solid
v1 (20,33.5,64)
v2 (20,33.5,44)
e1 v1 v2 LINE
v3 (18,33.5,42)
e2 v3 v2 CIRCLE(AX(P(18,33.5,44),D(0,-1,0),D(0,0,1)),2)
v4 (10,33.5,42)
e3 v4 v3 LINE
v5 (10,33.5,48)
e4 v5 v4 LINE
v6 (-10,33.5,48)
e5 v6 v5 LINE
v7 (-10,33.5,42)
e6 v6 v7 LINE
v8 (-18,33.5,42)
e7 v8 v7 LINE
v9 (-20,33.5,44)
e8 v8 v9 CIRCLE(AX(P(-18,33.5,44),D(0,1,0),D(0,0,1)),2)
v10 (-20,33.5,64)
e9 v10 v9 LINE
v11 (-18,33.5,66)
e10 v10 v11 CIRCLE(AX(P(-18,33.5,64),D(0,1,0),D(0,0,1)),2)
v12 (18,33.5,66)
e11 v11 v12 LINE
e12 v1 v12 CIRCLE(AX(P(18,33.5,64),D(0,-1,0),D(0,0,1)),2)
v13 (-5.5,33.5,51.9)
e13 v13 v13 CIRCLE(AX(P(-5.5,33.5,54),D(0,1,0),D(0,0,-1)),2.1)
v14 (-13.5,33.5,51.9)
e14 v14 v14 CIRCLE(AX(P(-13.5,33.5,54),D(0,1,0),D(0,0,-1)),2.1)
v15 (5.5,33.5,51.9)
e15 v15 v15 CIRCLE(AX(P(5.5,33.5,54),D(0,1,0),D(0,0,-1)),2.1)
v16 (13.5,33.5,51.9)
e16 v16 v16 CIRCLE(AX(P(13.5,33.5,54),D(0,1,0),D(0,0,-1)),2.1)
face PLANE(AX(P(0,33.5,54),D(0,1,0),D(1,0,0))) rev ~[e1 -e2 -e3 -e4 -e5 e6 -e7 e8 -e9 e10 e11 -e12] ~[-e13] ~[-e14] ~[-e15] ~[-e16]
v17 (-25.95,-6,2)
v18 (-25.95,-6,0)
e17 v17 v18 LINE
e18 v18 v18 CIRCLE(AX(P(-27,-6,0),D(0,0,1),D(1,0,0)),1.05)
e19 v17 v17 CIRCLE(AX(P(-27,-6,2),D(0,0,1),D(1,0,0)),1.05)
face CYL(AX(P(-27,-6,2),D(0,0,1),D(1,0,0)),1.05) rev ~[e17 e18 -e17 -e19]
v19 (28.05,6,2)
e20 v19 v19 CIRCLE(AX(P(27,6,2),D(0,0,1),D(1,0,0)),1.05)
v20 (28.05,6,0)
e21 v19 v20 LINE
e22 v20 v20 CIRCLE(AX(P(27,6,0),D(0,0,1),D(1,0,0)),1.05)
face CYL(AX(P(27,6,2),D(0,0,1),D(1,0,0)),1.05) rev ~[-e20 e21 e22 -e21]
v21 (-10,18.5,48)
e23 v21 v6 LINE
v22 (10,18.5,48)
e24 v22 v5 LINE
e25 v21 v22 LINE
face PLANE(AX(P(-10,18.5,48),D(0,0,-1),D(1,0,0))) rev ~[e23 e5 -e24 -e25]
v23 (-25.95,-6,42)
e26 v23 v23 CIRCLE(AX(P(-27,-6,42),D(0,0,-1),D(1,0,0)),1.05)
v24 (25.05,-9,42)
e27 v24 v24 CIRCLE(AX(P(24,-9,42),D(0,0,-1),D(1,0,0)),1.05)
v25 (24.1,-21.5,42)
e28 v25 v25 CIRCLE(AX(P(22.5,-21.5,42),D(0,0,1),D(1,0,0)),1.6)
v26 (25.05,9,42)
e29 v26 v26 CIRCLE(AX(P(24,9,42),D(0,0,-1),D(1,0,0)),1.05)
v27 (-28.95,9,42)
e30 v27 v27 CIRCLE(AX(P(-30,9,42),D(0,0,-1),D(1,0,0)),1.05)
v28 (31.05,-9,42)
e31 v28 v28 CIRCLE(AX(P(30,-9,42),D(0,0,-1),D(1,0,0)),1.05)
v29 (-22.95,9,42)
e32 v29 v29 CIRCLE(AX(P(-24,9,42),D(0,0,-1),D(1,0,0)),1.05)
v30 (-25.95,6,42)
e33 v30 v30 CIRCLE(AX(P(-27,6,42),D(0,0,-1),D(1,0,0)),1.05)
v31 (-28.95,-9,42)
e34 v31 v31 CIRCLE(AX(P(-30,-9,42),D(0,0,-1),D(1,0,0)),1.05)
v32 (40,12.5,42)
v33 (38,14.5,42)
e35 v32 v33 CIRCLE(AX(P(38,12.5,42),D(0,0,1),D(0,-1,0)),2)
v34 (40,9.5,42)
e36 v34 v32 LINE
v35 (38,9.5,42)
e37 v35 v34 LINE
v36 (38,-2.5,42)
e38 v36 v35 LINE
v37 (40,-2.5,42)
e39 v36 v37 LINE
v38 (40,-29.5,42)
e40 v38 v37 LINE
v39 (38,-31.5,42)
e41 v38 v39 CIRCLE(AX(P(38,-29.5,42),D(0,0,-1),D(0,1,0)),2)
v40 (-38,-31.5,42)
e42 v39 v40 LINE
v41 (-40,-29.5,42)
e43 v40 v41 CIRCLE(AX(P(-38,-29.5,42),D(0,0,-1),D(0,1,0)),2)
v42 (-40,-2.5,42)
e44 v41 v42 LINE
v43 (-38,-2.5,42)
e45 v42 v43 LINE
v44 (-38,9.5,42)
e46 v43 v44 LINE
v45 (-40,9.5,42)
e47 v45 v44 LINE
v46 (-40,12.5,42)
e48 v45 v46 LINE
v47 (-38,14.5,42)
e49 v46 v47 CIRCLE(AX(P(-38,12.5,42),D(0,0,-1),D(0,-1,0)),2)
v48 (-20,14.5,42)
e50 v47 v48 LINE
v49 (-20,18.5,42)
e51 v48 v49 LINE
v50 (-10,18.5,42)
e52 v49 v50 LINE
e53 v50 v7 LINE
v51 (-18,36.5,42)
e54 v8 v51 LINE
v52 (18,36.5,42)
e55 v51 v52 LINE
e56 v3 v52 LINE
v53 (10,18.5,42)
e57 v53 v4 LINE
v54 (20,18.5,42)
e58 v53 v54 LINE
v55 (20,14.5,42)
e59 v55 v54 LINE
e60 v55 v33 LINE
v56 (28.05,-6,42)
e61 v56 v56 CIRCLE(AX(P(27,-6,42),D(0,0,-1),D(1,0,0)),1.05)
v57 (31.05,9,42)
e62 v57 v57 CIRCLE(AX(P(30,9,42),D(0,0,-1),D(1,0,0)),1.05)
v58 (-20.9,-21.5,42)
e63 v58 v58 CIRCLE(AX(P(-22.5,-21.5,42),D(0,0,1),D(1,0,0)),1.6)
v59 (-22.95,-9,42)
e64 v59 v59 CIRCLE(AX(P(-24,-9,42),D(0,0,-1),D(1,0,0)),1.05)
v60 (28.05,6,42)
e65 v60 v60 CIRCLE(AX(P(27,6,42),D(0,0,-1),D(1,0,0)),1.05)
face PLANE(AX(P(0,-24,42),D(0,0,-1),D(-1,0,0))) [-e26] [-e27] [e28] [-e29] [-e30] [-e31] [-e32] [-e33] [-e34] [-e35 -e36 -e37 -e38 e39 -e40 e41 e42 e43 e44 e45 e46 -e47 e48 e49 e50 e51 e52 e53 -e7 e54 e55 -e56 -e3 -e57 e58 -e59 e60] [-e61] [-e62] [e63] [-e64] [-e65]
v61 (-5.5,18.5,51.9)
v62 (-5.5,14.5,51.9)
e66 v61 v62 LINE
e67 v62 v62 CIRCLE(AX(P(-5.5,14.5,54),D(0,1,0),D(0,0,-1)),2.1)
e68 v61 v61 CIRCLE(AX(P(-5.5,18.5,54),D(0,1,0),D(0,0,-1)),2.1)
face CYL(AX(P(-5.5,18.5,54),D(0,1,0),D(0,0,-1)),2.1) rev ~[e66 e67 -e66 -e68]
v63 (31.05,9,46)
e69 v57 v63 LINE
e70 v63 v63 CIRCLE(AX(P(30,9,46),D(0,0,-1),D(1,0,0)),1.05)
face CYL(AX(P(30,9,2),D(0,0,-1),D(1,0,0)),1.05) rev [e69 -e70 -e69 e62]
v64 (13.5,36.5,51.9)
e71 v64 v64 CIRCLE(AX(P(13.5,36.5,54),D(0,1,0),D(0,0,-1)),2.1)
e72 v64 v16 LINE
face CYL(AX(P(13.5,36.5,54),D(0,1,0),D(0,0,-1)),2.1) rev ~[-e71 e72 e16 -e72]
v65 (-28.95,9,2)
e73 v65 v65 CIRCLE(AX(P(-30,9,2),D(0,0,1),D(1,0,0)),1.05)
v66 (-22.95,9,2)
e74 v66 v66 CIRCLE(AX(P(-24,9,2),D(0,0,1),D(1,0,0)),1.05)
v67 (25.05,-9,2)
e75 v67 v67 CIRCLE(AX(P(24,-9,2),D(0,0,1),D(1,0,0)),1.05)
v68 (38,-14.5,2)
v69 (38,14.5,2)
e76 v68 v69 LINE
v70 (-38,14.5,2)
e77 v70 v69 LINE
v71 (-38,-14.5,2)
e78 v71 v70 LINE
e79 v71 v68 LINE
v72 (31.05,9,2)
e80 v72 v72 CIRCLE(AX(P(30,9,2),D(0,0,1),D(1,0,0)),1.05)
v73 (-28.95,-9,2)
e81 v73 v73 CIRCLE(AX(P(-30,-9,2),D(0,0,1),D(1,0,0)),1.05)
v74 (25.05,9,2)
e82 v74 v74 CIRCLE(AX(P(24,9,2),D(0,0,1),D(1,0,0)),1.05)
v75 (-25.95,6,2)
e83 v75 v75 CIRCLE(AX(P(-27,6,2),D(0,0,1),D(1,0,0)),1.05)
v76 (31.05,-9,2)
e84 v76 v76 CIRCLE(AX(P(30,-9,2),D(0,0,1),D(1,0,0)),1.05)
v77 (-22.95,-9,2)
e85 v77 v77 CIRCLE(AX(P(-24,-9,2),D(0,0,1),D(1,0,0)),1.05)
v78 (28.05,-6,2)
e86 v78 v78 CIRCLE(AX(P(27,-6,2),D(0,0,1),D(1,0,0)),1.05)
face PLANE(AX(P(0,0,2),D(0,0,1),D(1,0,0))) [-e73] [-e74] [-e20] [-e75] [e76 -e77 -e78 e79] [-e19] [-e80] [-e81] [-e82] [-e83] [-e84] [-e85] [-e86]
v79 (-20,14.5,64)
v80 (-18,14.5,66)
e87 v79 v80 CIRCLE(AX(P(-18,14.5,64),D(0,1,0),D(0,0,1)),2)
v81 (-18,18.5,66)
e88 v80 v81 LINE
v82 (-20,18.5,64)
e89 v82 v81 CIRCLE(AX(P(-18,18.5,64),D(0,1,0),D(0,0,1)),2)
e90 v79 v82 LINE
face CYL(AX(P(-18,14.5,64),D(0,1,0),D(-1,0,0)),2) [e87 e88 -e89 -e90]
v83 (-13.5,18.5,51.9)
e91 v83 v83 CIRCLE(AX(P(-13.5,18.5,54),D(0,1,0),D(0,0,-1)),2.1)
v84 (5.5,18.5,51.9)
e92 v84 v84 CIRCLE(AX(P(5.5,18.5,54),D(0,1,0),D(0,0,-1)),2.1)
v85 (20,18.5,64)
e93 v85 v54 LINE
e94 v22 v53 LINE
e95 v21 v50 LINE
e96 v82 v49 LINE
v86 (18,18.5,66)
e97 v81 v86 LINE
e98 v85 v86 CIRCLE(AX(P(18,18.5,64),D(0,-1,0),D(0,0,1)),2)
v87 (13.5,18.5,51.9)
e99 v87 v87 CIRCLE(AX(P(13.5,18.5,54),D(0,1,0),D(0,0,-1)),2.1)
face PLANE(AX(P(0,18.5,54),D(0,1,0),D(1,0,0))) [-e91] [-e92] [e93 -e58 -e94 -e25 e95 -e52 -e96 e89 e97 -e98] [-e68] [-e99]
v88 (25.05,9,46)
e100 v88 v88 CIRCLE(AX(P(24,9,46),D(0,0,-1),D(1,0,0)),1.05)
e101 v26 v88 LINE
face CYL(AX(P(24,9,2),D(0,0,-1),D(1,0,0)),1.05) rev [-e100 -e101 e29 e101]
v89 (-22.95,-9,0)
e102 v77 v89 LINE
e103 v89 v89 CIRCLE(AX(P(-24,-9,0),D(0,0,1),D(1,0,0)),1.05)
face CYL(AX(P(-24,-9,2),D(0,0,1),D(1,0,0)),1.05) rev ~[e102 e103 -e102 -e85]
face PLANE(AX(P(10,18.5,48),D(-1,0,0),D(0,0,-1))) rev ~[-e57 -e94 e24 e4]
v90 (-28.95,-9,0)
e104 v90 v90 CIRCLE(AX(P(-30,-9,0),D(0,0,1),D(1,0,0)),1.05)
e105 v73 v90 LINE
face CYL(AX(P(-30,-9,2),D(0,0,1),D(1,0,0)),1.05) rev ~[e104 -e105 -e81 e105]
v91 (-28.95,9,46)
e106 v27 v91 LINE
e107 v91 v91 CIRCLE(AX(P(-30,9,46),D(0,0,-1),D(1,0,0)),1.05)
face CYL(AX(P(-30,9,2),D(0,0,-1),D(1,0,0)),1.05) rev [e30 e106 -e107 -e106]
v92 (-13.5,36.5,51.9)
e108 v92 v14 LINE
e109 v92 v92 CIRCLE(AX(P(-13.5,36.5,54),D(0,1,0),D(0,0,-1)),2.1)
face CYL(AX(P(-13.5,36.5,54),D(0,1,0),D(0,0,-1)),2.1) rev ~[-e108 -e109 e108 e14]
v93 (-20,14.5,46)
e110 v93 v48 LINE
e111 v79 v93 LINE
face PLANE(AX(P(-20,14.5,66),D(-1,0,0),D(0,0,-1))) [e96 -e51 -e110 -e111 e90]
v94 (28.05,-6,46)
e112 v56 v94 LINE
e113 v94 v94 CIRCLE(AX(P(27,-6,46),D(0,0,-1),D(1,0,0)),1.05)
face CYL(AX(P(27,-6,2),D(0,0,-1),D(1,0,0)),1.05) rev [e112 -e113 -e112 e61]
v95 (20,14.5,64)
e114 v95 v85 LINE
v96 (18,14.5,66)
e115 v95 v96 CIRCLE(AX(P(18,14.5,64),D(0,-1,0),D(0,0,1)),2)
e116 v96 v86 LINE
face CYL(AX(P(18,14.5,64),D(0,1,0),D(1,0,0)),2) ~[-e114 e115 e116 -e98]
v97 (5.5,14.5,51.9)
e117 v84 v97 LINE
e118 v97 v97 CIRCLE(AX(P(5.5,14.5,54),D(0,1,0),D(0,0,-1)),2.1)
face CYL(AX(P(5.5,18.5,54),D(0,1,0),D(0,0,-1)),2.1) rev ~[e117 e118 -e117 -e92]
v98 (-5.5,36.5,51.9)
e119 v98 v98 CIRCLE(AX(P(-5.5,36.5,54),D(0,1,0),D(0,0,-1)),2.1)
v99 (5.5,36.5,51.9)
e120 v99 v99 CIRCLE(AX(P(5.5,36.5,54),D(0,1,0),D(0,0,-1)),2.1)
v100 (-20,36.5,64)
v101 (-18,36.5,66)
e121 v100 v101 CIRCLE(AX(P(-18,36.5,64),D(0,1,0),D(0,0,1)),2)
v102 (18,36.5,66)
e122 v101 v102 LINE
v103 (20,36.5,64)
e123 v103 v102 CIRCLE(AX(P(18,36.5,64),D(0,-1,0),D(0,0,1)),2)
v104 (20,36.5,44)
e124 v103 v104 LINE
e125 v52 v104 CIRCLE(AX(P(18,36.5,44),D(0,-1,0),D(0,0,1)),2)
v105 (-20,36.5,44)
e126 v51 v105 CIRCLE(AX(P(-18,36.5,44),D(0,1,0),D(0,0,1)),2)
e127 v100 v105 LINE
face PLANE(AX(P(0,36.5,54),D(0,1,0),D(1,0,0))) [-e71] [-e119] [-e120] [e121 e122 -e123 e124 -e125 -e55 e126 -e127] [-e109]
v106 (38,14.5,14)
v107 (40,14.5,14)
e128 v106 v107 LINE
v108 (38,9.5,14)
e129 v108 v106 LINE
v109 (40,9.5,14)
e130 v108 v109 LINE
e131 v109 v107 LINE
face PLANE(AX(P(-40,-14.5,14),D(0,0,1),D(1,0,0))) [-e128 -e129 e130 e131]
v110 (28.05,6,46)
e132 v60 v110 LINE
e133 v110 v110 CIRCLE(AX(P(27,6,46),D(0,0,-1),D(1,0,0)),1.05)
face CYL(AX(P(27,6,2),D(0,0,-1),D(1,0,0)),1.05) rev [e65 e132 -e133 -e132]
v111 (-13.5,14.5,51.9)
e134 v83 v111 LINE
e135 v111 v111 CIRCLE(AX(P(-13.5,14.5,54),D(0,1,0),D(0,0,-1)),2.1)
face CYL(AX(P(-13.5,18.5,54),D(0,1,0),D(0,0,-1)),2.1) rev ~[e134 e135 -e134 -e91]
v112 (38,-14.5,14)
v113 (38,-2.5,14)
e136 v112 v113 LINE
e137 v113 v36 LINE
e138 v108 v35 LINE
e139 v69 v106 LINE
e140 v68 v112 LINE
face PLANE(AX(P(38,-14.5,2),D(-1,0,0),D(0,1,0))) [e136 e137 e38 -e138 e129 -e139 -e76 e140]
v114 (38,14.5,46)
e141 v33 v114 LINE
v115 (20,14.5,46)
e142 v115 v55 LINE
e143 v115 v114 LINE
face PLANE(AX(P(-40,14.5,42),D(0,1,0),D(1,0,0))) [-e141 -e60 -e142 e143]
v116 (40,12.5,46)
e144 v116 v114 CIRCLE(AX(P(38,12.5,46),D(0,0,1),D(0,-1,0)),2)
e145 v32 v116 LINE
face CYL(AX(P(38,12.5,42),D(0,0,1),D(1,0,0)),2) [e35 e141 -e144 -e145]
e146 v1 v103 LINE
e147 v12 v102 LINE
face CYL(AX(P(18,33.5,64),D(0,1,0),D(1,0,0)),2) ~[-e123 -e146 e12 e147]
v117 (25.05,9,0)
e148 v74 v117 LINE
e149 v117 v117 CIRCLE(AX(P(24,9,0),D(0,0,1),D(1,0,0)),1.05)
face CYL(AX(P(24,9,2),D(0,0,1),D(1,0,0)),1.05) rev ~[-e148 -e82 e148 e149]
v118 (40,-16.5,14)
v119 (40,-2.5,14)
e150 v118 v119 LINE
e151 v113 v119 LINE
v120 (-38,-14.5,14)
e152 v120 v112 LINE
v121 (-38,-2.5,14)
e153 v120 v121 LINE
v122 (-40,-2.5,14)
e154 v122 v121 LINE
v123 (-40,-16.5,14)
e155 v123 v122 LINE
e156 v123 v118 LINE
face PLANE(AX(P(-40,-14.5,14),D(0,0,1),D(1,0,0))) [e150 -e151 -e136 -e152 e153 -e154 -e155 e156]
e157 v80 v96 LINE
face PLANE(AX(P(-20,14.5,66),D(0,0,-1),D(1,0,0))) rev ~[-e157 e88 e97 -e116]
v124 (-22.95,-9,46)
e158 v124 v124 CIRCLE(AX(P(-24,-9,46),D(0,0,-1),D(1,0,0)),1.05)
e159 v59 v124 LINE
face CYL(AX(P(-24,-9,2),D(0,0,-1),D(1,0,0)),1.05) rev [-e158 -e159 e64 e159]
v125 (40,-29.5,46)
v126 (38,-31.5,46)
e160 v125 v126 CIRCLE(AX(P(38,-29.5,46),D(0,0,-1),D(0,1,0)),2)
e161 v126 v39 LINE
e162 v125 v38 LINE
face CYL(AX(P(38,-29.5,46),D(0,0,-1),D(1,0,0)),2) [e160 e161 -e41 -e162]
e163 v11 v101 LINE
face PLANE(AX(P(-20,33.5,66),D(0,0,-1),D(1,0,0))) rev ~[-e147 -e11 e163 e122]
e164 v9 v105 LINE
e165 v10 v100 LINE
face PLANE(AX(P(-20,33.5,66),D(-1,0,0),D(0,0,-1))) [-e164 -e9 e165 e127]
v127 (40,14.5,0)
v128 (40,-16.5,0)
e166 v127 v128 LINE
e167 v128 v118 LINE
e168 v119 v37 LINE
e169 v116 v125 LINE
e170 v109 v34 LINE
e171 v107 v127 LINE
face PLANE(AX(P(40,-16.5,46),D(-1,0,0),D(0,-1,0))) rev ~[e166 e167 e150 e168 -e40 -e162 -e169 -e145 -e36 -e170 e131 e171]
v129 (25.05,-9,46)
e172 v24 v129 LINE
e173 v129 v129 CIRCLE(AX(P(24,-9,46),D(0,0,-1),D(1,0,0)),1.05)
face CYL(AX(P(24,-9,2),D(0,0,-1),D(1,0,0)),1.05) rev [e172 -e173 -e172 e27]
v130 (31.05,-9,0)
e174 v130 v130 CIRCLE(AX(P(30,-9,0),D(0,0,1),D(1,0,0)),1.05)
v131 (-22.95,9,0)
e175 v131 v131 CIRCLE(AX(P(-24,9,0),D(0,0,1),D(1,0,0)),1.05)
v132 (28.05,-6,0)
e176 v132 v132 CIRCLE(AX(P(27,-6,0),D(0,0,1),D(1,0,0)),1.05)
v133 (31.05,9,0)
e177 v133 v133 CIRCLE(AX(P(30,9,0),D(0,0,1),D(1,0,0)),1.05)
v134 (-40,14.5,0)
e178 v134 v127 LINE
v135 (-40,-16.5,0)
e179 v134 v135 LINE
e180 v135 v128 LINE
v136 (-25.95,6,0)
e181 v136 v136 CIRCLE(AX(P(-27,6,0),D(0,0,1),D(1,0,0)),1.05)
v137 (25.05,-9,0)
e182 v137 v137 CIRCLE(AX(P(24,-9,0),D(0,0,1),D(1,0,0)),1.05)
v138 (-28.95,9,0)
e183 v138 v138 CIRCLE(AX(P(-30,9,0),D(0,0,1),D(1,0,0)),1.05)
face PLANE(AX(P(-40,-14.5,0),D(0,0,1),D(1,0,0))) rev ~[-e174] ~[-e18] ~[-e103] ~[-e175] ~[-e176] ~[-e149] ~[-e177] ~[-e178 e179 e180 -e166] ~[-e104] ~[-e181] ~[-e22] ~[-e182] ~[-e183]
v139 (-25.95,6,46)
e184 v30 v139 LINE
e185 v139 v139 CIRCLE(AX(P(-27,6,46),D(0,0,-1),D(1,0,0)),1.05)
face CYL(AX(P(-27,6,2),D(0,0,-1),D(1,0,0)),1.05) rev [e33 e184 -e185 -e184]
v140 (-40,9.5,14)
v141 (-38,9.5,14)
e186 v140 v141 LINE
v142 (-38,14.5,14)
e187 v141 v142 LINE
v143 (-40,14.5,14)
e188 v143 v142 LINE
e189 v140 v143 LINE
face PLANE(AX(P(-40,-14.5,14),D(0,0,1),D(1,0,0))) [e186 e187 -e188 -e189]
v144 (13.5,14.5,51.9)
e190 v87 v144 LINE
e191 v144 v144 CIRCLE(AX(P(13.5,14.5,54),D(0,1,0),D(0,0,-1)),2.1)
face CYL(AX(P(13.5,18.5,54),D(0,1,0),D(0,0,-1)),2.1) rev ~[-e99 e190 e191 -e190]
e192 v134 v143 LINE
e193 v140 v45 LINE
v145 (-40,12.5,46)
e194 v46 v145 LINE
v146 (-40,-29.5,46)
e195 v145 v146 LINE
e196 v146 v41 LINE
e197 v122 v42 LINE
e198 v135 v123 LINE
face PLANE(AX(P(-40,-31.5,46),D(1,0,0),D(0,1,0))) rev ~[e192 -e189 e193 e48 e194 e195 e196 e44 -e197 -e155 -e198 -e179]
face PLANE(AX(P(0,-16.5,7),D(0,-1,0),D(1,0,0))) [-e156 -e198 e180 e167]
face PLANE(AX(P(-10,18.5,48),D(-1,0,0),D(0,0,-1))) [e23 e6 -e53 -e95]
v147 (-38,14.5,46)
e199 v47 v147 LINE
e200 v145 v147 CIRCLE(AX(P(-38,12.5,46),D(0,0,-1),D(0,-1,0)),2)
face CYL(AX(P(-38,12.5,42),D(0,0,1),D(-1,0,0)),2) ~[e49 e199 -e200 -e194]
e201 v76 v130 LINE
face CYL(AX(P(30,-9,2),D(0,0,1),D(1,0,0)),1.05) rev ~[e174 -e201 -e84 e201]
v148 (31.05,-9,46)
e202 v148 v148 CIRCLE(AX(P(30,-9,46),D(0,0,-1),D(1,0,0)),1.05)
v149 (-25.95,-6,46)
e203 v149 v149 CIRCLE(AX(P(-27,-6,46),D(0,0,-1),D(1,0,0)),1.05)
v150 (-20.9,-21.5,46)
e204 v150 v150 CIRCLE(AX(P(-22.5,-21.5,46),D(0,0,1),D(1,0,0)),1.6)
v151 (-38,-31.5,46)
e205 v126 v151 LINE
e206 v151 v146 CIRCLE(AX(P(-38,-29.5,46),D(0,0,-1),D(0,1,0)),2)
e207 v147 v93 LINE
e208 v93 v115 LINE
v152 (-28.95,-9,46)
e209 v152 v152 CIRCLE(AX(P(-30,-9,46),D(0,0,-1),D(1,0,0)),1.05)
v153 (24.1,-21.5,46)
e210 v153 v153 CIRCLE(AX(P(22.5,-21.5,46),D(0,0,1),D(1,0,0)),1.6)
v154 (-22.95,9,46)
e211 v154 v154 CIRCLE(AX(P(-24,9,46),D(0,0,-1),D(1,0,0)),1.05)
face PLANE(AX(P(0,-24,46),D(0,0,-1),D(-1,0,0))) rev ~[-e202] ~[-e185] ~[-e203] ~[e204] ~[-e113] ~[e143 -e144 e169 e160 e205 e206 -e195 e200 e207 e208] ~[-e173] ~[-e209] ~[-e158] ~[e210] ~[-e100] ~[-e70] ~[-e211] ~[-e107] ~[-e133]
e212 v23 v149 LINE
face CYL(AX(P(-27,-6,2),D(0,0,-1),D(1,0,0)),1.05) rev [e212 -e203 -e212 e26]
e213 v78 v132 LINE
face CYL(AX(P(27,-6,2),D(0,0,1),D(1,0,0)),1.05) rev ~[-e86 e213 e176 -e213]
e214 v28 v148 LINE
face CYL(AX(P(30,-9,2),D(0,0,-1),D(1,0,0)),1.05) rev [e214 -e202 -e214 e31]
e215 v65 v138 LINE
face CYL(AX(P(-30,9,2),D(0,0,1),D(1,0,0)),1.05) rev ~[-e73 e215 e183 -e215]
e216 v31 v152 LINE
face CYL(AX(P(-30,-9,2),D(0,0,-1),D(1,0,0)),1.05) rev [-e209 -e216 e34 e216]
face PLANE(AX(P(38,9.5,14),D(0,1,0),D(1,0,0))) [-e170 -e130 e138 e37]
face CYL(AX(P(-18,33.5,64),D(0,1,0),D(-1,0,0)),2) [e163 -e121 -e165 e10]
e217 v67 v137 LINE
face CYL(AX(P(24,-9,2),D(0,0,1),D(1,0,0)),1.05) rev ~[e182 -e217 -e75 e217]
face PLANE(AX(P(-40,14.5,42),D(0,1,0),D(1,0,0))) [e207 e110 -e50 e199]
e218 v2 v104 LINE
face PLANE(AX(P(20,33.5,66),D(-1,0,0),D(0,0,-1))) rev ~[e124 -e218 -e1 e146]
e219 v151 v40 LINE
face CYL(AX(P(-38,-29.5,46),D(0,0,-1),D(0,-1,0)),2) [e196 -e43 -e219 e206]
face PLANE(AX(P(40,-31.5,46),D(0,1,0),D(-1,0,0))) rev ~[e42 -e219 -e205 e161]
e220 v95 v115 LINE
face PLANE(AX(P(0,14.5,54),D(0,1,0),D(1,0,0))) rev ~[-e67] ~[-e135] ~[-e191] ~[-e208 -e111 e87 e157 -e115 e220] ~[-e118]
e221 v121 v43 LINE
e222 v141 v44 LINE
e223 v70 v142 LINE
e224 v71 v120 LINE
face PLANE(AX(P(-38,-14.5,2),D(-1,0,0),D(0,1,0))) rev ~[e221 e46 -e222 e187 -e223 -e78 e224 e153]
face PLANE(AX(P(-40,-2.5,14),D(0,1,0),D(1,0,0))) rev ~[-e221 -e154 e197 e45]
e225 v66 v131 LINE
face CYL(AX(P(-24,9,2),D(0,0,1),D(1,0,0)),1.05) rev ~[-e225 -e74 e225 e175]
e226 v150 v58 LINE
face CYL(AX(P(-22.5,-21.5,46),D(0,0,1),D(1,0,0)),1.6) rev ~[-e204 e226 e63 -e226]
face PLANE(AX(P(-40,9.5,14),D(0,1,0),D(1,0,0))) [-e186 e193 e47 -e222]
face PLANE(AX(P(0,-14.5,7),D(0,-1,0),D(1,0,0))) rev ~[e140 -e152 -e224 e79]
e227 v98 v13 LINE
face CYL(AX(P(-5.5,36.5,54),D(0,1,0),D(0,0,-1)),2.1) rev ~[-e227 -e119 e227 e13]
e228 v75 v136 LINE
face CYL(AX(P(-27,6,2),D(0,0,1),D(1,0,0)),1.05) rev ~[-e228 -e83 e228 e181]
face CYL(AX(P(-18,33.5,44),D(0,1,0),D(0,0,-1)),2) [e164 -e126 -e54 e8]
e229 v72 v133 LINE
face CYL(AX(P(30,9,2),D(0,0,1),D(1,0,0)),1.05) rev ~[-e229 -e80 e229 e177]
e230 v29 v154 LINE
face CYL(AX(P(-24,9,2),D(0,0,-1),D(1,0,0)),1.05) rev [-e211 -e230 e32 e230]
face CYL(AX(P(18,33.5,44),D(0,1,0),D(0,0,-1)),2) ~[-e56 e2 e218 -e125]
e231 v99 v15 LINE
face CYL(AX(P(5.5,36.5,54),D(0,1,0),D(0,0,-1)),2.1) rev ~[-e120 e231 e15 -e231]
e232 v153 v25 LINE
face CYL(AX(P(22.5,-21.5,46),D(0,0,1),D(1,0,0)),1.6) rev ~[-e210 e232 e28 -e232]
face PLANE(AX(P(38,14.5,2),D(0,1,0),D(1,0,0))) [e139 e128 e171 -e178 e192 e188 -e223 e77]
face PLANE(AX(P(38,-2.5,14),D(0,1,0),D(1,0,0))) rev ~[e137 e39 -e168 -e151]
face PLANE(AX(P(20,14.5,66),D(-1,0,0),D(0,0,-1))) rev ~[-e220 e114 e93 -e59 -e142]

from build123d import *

# Parameters (mm, degrees)
SKETCH_1_W                      = 80
SKETCH_1_H                      = 29
EXTRUDE_1_DEPTH                 = 2
SKETCH_4_W                      = 2
SKETCH_4_H                      = 29
EXTRUDE_2_DEPTH                 = 12
SKETCH_6_W                      = 80
SKETCH_6_H                      = 14
EXTRUDE_4_DEPTH                 = 2
SKETCH_7_W                      = 2
SKETCH_7_H                      = 12
EXTRUDE_5_DEPTH                 = 28
SKETCH_8_W                      = 80
SKETCH_8_H                      = 31
EXTRUDE_6_DEPTH                 = 4
SKETCH_2_R                      = 1.05
CUT_EXTRUDE_1_DEPTH             = 62.711020086
CUT_EXTRUDE_1_DIRECTION_2_REACH = 63.711
SKETCH_12_W                     = 40
SKETCH_12_H                     = 24
EXTRUDE_9_DEPTH                 = 4
CUT_EXTRUDE_3_REACH             = 86.741
SKETCH_13_R                     = 2.1
CUT_EXTRUDE_3_DIRECTION_2_DEPTH = 85.74078121
SKETCH_14_W                     = 20
SKETCH_14_H                     = 6
EXTRUDE_10_DEPTH                = 15
SKETCH_15_W                     = 40
SKETCH_15_H                     = 24
EXTRUDE_11_DEPTH                = 3
SKETCH_16_R                     = 2.1
CUT_EXTRUDE_4_DEPTH             = 3
EXTRUDE_14_DEPTH                = 4
SKETCH_22_R                     = 1.6
CUT_EXTRUDE_5_DEPTH             = 4
FILLET_1_R                      = 2


with BuildPart() as part:
    # 草图1 → 凸台-拉伸1 (new body)
    with BuildSketch(Plane.XY):
        Rectangle(SKETCH_1_W, SKETCH_1_H)
    extrude(amount=EXTRUDE_1_DEPTH)

    # 草图4 → 凸台-拉伸2 (add)
    with BuildSketch(Plane.XY.offset(2)):
        with Locations((39, 0)):
            Rectangle(SKETCH_4_W, SKETCH_4_H)
        with Locations((-39, 0)):
            Rectangle(SKETCH_4_W, SKETCH_4_H)
    extrude(amount=EXTRUDE_2_DEPTH)

    # 草图6 → 凸台-拉伸4 (add)
    with BuildSketch(Plane.XZ.offset(14.5)):
        with Locations((0, 7)):
            Rectangle(SKETCH_6_W, SKETCH_6_H)
    extrude(amount=EXTRUDE_4_DEPTH)

    # 草图7 → 凸台-拉伸5 (add)
    with BuildSketch(Plane.XY.offset(14)):
        with Locations((-39, 3.5)):
            Rectangle(SKETCH_7_W, SKETCH_7_H)
        with Locations((39, 3.5)):
            Rectangle(SKETCH_7_W, SKETCH_7_H)
    extrude(amount=EXTRUDE_5_DEPTH)

    # 草图8 → 凸台-拉伸6 (add)
    with BuildSketch(Plane.XY.offset(42)):
        with Locations((0, -1)):
            Rectangle(SKETCH_8_W, SKETCH_8_H)
    extrude(amount=EXTRUDE_6_DEPTH)

    # 草图2 → 切除-拉伸1 (cut)
    with BuildSketch(Plane.XY.offset(2)):
        with Locations((-30, 9)):
            Circle(SKETCH_2_R)
        with Locations((-24, 9)):
            Circle(SKETCH_2_R)
        with Locations((-27, 6)):
            Circle(SKETCH_2_R)
        with Locations((-27, -6)):
            Circle(SKETCH_2_R)
        with Locations((-24, -9)):
            Circle(SKETCH_2_R)
        with Locations((-30, -9)):
            Circle(SKETCH_2_R)
        with Locations((27, -6)):
            Circle(SKETCH_2_R)
        with Locations((30, -9)):
            Circle(SKETCH_2_R)
        with Locations((24, -9)):
            Circle(SKETCH_2_R)
        with Locations((27, 6)):
            Circle(SKETCH_2_R)
        with Locations((30, 9)):
            Circle(SKETCH_2_R)
        with Locations((24, 9)):
            Circle(SKETCH_2_R)
    extrude(amount=-CUT_EXTRUDE_1_DEPTH, mode=Mode.SUBTRACT)

    # 切除-拉伸1 direction 2: up to this face of the body (flat: up to its plane)
    cut_extrude_1_direction_2_end = Plane(part.part.faces().sort_by_distance((0, -1, 46))[0])
    # 草图2 → 切除-拉伸1 direction 2 (cut, up to the picked face)
    with BuildSketch(Plane.XY.offset(2), mode=Mode.PRIVATE) as cut_extrude_1_direction_2_sk1:
        with Locations((-30, 9)):
            Circle(SKETCH_2_R)
    cut_extrude_1_direction_2_tool1 = split(extrude(cut_extrude_1_direction_2_sk1.sketch, amount=CUT_EXTRUDE_1_DIRECTION_2_REACH, mode=Mode.PRIVATE), bisect_by=cut_extrude_1_direction_2_end, keep=Keep.BOTH, mode=Mode.PRIVATE)
    # 草图2 → 切除-拉伸1 direction 2 (cut, up to the picked face)
    with BuildSketch(Plane.XY.offset(2), mode=Mode.PRIVATE) as cut_extrude_1_direction_2_sk2:
        with Locations((-24, 9)):
            Circle(SKETCH_2_R)
    cut_extrude_1_direction_2_tool2 = split(extrude(cut_extrude_1_direction_2_sk2.sketch, amount=CUT_EXTRUDE_1_DIRECTION_2_REACH, mode=Mode.PRIVATE), bisect_by=cut_extrude_1_direction_2_end, keep=Keep.BOTH, mode=Mode.PRIVATE)
    # 草图2 → 切除-拉伸1 direction 2 (cut, up to the picked face)
    with BuildSketch(Plane.XY.offset(2), mode=Mode.PRIVATE) as cut_extrude_1_direction_2_sk3:
        with Locations((-27, 6)):
            Circle(SKETCH_2_R)
    cut_extrude_1_direction_2_tool3 = split(extrude(cut_extrude_1_direction_2_sk3.sketch, amount=CUT_EXTRUDE_1_DIRECTION_2_REACH, mode=Mode.PRIVATE), bisect_by=cut_extrude_1_direction_2_end, keep=Keep.BOTH, mode=Mode.PRIVATE)
    # 草图2 → 切除-拉伸1 direction 2 (cut, up to the picked face)
    with BuildSketch(Plane.XY.offset(2), mode=Mode.PRIVATE) as cut_extrude_1_direction_2_sk4:
        with Locations((-27, -6)):
            Circle(SKETCH_2_R)
    cut_extrude_1_direction_2_tool4 = split(extrude(cut_extrude_1_direction_2_sk4.sketch, amount=CUT_EXTRUDE_1_DIRECTION_2_REACH, mode=Mode.PRIVATE), bisect_by=cut_extrude_1_direction_2_end, keep=Keep.BOTH, mode=Mode.PRIVATE)
    # 草图2 → 切除-拉伸1 direction 2 (cut, up to the picked face)
    with BuildSketch(Plane.XY.offset(2), mode=Mode.PRIVATE) as cut_extrude_1_direction_2_sk5:
        with Locations((-24, -9)):
            Circle(SKETCH_2_R)
    cut_extrude_1_direction_2_tool5 = split(extrude(cut_extrude_1_direction_2_sk5.sketch, amount=CUT_EXTRUDE_1_DIRECTION_2_REACH, mode=Mode.PRIVATE), bisect_by=cut_extrude_1_direction_2_end, keep=Keep.BOTH, mode=Mode.PRIVATE)
    # 草图2 → 切除-拉伸1 direction 2 (cut, up to the picked face)
    with BuildSketch(Plane.XY.offset(2), mode=Mode.PRIVATE) as cut_extrude_1_direction_2_sk6:
        with Locations((-30, -9)):
            Circle(SKETCH_2_R)
    cut_extrude_1_direction_2_tool6 = split(extrude(cut_extrude_1_direction_2_sk6.sketch, amount=CUT_EXTRUDE_1_DIRECTION_2_REACH, mode=Mode.PRIVATE), bisect_by=cut_extrude_1_direction_2_end, keep=Keep.BOTH, mode=Mode.PRIVATE)
    # 草图2 → 切除-拉伸1 direction 2 (cut, up to the picked face)
    with BuildSketch(Plane.XY.offset(2), mode=Mode.PRIVATE) as cut_extrude_1_direction_2_sk7:
        with Locations((27, -6)):
            Circle(SKETCH_2_R)
    cut_extrude_1_direction_2_tool7 = split(extrude(cut_extrude_1_direction_2_sk7.sketch, amount=CUT_EXTRUDE_1_DIRECTION_2_REACH, mode=Mode.PRIVATE), bisect_by=cut_extrude_1_direction_2_end, keep=Keep.BOTH, mode=Mode.PRIVATE)
    # 草图2 → 切除-拉伸1 direction 2 (cut, up to the picked face)
    with BuildSketch(Plane.XY.offset(2), mode=Mode.PRIVATE) as cut_extrude_1_direction_2_sk8:
        with Locations((30, -9)):
            Circle(SKETCH_2_R)
    cut_extrude_1_direction_2_tool8 = split(extrude(cut_extrude_1_direction_2_sk8.sketch, amount=CUT_EXTRUDE_1_DIRECTION_2_REACH, mode=Mode.PRIVATE), bisect_by=cut_extrude_1_direction_2_end, keep=Keep.BOTH, mode=Mode.PRIVATE)
    # 草图2 → 切除-拉伸1 direction 2 (cut, up to the picked face)
    with BuildSketch(Plane.XY.offset(2), mode=Mode.PRIVATE) as cut_extrude_1_direction_2_sk9:
        with Locations((24, -9)):
            Circle(SKETCH_2_R)
    cut_extrude_1_direction_2_tool9 = split(extrude(cut_extrude_1_direction_2_sk9.sketch, amount=CUT_EXTRUDE_1_DIRECTION_2_REACH, mode=Mode.PRIVATE), bisect_by=cut_extrude_1_direction_2_end, keep=Keep.BOTH, mode=Mode.PRIVATE)
    # 草图2 → 切除-拉伸1 direction 2 (cut, up to the picked face)
    with BuildSketch(Plane.XY.offset(2), mode=Mode.PRIVATE) as cut_extrude_1_direction_2_sk10:
        with Locations((27, 6)):
            Circle(SKETCH_2_R)
    cut_extrude_1_direction_2_tool10 = split(extrude(cut_extrude_1_direction_2_sk10.sketch, amount=CUT_EXTRUDE_1_DIRECTION_2_REACH, mode=Mode.PRIVATE), bisect_by=cut_extrude_1_direction_2_end, keep=Keep.BOTH, mode=Mode.PRIVATE)
    # 草图2 → 切除-拉伸1 direction 2 (cut, up to the picked face)
    with BuildSketch(Plane.XY.offset(2), mode=Mode.PRIVATE) as cut_extrude_1_direction_2_sk11:
        with Locations((30, 9)):
            Circle(SKETCH_2_R)
    cut_extrude_1_direction_2_tool11 = split(extrude(cut_extrude_1_direction_2_sk11.sketch, amount=CUT_EXTRUDE_1_DIRECTION_2_REACH, mode=Mode.PRIVATE), bisect_by=cut_extrude_1_direction_2_end, keep=Keep.BOTH, mode=Mode.PRIVATE)
    # 草图2 → 切除-拉伸1 direction 2 (cut, up to the picked face)
    with BuildSketch(Plane.XY.offset(2), mode=Mode.PRIVATE) as cut_extrude_1_direction_2_sk12:
        with Locations((24, 9)):
            Circle(SKETCH_2_R)
    cut_extrude_1_direction_2_tool12 = split(extrude(cut_extrude_1_direction_2_sk12.sketch, amount=CUT_EXTRUDE_1_DIRECTION_2_REACH, mode=Mode.PRIVATE), bisect_by=cut_extrude_1_direction_2_end, keep=Keep.BOTH, mode=Mode.PRIVATE)
    add(cut_extrude_1_direction_2_tool1.solids().sort_by(Axis((-30, 9, 2), (0, 0, 1)))[0], mode=Mode.SUBTRACT)
    add(cut_extrude_1_direction_2_tool2.solids().sort_by(Axis((-24, 9, 2), (0, 0, 1)))[0], mode=Mode.SUBTRACT)
    add(cut_extrude_1_direction_2_tool3.solids().sort_by(Axis((-27, 6, 2), (0, 0, 1)))[0], mode=Mode.SUBTRACT)
    add(cut_extrude_1_direction_2_tool4.solids().sort_by(Axis((-27, -6, 2), (0, 0, 1)))[0], mode=Mode.SUBTRACT)
    add(cut_extrude_1_direction_2_tool5.solids().sort_by(Axis((-24, -9, 2), (0, 0, 1)))[0], mode=Mode.SUBTRACT)
    add(cut_extrude_1_direction_2_tool6.solids().sort_by(Axis((-30, -9, 2), (0, 0, 1)))[0], mode=Mode.SUBTRACT)
    add(cut_extrude_1_direction_2_tool7.solids().sort_by(Axis((27, -6, 2), (0, 0, 1)))[0], mode=Mode.SUBTRACT)
    add(cut_extrude_1_direction_2_tool8.solids().sort_by(Axis((30, -9, 2), (0, 0, 1)))[0], mode=Mode.SUBTRACT)
    add(cut_extrude_1_direction_2_tool9.solids().sort_by(Axis((24, -9, 2), (0, 0, 1)))[0], mode=Mode.SUBTRACT)
    add(cut_extrude_1_direction_2_tool10.solids().sort_by(Axis((27, 6, 2), (0, 0, 1)))[0], mode=Mode.SUBTRACT)
    add(cut_extrude_1_direction_2_tool11.solids().sort_by(Axis((30, 9, 2), (0, 0, 1)))[0], mode=Mode.SUBTRACT)
    add(cut_extrude_1_direction_2_tool12.solids().sort_by(Axis((24, 9, 2), (0, 0, 1)))[0], mode=Mode.SUBTRACT)

    # 草图12 → 凸台-拉伸9 (add)
    with BuildSketch(Plane(origin=(0, 14.5, 0), x_dir=(1, 0, 0), z_dir=(0, 1, 0))):
        with Locations((0, -54)):
            Rectangle(SKETCH_12_W, SKETCH_12_H)
    extrude(amount=EXTRUDE_9_DEPTH)

    # 草图13 → 切除-拉伸3 (cut, up to next)
    with BuildSketch(Plane(origin=(0, 18.5, 0), x_dir=(1, 0, 0), z_dir=(0, 1, 0)), mode=Mode.PRIVATE) as cut_extrude_3_sk1:
        with Locations(Location((-13.5, -54, 0), (0, 0, 90))):
            Circle(SKETCH_13_R)
    cut_extrude_3_tool1 = extrude(cut_extrude_3_sk1.sketch, amount=-CUT_EXTRUDE_3_REACH, mode=Mode.PRIVATE) & part.part
    # 草图13 → 切除-拉伸3 (cut, up to next)
    with BuildSketch(Plane(origin=(0, 18.5, 0), x_dir=(1, 0, 0), z_dir=(0, 1, 0)), mode=Mode.PRIVATE) as cut_extrude_3_sk2:
        with Locations(Location((-5.5, -54, 0), (0, 0, 90))):
            Circle(SKETCH_13_R)
    cut_extrude_3_tool2 = extrude(cut_extrude_3_sk2.sketch, amount=-CUT_EXTRUDE_3_REACH, mode=Mode.PRIVATE) & part.part
    # 草图13 → 切除-拉伸3 (cut, up to next)
    with BuildSketch(Plane(origin=(0, 18.5, 0), x_dir=(1, 0, 0), z_dir=(0, 1, 0)), mode=Mode.PRIVATE) as cut_extrude_3_sk3:
        with Locations(Location((5.5, -54, 0), (0, 0, 90))):
            Circle(SKETCH_13_R)
    cut_extrude_3_tool3 = extrude(cut_extrude_3_sk3.sketch, amount=-CUT_EXTRUDE_3_REACH, mode=Mode.PRIVATE) & part.part
    # 草图13 → 切除-拉伸3 (cut, up to next)
    with BuildSketch(Plane(origin=(0, 18.5, 0), x_dir=(1, 0, 0), z_dir=(0, 1, 0)), mode=Mode.PRIVATE) as cut_extrude_3_sk4:
        with Locations(Location((13.5, -54, 0), (0, 0, 90))):
            Circle(SKETCH_13_R)
    cut_extrude_3_tool4 = extrude(cut_extrude_3_sk4.sketch, amount=-CUT_EXTRUDE_3_REACH, mode=Mode.PRIVATE) & part.part
    add(cut_extrude_3_tool1.solids().sort_by_distance((-13.5, 18.5, 54))[0], mode=Mode.SUBTRACT)
    add(cut_extrude_3_tool2.solids().sort_by_distance((-5.5, 18.5, 54))[0], mode=Mode.SUBTRACT)
    add(cut_extrude_3_tool3.solids().sort_by_distance((5.5, 18.5, 54))[0], mode=Mode.SUBTRACT)
    add(cut_extrude_3_tool4.solids().sort_by_distance((13.5, 18.5, 54))[0], mode=Mode.SUBTRACT)

    # 草图13 → 切除-拉伸3 direction 2 (cut)
    with BuildSketch(Plane(origin=(0, 18.5, 0), x_dir=(1, 0, 0), z_dir=(0, 1, 0))):
        with Locations(Location((-13.5, -54, 0), (0, 0, 90))):
            Circle(SKETCH_13_R)
        with Locations(Location((-5.5, -54, 0), (0, 0, 90))):
            Circle(SKETCH_13_R)
        with Locations(Location((5.5, -54, 0), (0, 0, 90))):
            Circle(SKETCH_13_R)
        with Locations(Location((13.5, -54, 0), (0, 0, 90))):
            Circle(SKETCH_13_R)
    extrude(amount=CUT_EXTRUDE_3_DIRECTION_2_DEPTH, mode=Mode.SUBTRACT)

    # 草图14 → 凸台-拉伸10 (add)
    with BuildSketch(Plane(origin=(0, 18.5, 0), x_dir=(1, 0, 0), z_dir=(0, 1, 0))):
        with Locations((0, -45)):
            Rectangle(SKETCH_14_W, SKETCH_14_H)
    extrude(amount=EXTRUDE_10_DEPTH)

    # 草图15 → 凸台-拉伸11 (add)
    with BuildSketch(Plane(origin=(0, 33.5, 0), x_dir=(1, 0, 0), z_dir=(0, 1, 0))):
        with Locations((0, -54)):
            Rectangle(SKETCH_15_W, SKETCH_15_H)
    extrude(amount=EXTRUDE_11_DEPTH)

    # 草图16 → 切除-拉伸4 (cut)
    with BuildSketch(Plane(origin=(0, 36.5, 0), x_dir=(1, 0, 0), z_dir=(0, 1, 0))):
        with Locations(Location((-13.5, -54, 0), (0, 0, 90))):
            Circle(SKETCH_16_R)
        with Locations(Location((-5.5, -54, 0), (0, 0, 90))):
            Circle(SKETCH_16_R)
        with Locations(Location((5.5, -54, 0), (0, 0, 90))):
            Circle(SKETCH_16_R)
        with Locations(Location((13.5, -54, 0), (0, 0, 90))):
            Circle(SKETCH_16_R)
    extrude(amount=-CUT_EXTRUDE_4_DEPTH, mode=Mode.SUBTRACT)

    # 草图21 → 凸台-拉伸14 (add)
    with BuildSketch(Plane.XY.offset(46)):
        Polygon((0, -16.5), (40, -16.5), (40, -31.5), (-40, -31.5), (-40, -16.5), align=None)
    extrude(amount=-EXTRUDE_14_DEPTH)

    # 草图22 → 切除-拉伸5 (cut)
    with BuildSketch(Plane.XY.offset(46)):
        with Locations((-22.5, -21.5)):
            Circle(SKETCH_22_R)
        with Locations((22.5, -21.5)):
            Circle(SKETCH_22_R)
    extrude(amount=-CUT_EXTRUDE_5_DEPTH, mode=Mode.SUBTRACT)

    # 圆角1
    fillet_1_edges = [part.edges().sort_by_distance(p)[0] for p in [
        (-20, 16.5, 66),
        (20, 16.5, 66),
        (-20, 35, 42),
        (-20, 35, 66),
        (20, 35, 66),
        (20, 35, 42),
        (40, -31.5, 44),
        (-40, -31.5, 44),
        (-40, 14.5, 44),
        (40, 14.5, 44),
    ]]
    fillet(fillet_1_edges, radius=FILLET_1_R)


solid = part.part
